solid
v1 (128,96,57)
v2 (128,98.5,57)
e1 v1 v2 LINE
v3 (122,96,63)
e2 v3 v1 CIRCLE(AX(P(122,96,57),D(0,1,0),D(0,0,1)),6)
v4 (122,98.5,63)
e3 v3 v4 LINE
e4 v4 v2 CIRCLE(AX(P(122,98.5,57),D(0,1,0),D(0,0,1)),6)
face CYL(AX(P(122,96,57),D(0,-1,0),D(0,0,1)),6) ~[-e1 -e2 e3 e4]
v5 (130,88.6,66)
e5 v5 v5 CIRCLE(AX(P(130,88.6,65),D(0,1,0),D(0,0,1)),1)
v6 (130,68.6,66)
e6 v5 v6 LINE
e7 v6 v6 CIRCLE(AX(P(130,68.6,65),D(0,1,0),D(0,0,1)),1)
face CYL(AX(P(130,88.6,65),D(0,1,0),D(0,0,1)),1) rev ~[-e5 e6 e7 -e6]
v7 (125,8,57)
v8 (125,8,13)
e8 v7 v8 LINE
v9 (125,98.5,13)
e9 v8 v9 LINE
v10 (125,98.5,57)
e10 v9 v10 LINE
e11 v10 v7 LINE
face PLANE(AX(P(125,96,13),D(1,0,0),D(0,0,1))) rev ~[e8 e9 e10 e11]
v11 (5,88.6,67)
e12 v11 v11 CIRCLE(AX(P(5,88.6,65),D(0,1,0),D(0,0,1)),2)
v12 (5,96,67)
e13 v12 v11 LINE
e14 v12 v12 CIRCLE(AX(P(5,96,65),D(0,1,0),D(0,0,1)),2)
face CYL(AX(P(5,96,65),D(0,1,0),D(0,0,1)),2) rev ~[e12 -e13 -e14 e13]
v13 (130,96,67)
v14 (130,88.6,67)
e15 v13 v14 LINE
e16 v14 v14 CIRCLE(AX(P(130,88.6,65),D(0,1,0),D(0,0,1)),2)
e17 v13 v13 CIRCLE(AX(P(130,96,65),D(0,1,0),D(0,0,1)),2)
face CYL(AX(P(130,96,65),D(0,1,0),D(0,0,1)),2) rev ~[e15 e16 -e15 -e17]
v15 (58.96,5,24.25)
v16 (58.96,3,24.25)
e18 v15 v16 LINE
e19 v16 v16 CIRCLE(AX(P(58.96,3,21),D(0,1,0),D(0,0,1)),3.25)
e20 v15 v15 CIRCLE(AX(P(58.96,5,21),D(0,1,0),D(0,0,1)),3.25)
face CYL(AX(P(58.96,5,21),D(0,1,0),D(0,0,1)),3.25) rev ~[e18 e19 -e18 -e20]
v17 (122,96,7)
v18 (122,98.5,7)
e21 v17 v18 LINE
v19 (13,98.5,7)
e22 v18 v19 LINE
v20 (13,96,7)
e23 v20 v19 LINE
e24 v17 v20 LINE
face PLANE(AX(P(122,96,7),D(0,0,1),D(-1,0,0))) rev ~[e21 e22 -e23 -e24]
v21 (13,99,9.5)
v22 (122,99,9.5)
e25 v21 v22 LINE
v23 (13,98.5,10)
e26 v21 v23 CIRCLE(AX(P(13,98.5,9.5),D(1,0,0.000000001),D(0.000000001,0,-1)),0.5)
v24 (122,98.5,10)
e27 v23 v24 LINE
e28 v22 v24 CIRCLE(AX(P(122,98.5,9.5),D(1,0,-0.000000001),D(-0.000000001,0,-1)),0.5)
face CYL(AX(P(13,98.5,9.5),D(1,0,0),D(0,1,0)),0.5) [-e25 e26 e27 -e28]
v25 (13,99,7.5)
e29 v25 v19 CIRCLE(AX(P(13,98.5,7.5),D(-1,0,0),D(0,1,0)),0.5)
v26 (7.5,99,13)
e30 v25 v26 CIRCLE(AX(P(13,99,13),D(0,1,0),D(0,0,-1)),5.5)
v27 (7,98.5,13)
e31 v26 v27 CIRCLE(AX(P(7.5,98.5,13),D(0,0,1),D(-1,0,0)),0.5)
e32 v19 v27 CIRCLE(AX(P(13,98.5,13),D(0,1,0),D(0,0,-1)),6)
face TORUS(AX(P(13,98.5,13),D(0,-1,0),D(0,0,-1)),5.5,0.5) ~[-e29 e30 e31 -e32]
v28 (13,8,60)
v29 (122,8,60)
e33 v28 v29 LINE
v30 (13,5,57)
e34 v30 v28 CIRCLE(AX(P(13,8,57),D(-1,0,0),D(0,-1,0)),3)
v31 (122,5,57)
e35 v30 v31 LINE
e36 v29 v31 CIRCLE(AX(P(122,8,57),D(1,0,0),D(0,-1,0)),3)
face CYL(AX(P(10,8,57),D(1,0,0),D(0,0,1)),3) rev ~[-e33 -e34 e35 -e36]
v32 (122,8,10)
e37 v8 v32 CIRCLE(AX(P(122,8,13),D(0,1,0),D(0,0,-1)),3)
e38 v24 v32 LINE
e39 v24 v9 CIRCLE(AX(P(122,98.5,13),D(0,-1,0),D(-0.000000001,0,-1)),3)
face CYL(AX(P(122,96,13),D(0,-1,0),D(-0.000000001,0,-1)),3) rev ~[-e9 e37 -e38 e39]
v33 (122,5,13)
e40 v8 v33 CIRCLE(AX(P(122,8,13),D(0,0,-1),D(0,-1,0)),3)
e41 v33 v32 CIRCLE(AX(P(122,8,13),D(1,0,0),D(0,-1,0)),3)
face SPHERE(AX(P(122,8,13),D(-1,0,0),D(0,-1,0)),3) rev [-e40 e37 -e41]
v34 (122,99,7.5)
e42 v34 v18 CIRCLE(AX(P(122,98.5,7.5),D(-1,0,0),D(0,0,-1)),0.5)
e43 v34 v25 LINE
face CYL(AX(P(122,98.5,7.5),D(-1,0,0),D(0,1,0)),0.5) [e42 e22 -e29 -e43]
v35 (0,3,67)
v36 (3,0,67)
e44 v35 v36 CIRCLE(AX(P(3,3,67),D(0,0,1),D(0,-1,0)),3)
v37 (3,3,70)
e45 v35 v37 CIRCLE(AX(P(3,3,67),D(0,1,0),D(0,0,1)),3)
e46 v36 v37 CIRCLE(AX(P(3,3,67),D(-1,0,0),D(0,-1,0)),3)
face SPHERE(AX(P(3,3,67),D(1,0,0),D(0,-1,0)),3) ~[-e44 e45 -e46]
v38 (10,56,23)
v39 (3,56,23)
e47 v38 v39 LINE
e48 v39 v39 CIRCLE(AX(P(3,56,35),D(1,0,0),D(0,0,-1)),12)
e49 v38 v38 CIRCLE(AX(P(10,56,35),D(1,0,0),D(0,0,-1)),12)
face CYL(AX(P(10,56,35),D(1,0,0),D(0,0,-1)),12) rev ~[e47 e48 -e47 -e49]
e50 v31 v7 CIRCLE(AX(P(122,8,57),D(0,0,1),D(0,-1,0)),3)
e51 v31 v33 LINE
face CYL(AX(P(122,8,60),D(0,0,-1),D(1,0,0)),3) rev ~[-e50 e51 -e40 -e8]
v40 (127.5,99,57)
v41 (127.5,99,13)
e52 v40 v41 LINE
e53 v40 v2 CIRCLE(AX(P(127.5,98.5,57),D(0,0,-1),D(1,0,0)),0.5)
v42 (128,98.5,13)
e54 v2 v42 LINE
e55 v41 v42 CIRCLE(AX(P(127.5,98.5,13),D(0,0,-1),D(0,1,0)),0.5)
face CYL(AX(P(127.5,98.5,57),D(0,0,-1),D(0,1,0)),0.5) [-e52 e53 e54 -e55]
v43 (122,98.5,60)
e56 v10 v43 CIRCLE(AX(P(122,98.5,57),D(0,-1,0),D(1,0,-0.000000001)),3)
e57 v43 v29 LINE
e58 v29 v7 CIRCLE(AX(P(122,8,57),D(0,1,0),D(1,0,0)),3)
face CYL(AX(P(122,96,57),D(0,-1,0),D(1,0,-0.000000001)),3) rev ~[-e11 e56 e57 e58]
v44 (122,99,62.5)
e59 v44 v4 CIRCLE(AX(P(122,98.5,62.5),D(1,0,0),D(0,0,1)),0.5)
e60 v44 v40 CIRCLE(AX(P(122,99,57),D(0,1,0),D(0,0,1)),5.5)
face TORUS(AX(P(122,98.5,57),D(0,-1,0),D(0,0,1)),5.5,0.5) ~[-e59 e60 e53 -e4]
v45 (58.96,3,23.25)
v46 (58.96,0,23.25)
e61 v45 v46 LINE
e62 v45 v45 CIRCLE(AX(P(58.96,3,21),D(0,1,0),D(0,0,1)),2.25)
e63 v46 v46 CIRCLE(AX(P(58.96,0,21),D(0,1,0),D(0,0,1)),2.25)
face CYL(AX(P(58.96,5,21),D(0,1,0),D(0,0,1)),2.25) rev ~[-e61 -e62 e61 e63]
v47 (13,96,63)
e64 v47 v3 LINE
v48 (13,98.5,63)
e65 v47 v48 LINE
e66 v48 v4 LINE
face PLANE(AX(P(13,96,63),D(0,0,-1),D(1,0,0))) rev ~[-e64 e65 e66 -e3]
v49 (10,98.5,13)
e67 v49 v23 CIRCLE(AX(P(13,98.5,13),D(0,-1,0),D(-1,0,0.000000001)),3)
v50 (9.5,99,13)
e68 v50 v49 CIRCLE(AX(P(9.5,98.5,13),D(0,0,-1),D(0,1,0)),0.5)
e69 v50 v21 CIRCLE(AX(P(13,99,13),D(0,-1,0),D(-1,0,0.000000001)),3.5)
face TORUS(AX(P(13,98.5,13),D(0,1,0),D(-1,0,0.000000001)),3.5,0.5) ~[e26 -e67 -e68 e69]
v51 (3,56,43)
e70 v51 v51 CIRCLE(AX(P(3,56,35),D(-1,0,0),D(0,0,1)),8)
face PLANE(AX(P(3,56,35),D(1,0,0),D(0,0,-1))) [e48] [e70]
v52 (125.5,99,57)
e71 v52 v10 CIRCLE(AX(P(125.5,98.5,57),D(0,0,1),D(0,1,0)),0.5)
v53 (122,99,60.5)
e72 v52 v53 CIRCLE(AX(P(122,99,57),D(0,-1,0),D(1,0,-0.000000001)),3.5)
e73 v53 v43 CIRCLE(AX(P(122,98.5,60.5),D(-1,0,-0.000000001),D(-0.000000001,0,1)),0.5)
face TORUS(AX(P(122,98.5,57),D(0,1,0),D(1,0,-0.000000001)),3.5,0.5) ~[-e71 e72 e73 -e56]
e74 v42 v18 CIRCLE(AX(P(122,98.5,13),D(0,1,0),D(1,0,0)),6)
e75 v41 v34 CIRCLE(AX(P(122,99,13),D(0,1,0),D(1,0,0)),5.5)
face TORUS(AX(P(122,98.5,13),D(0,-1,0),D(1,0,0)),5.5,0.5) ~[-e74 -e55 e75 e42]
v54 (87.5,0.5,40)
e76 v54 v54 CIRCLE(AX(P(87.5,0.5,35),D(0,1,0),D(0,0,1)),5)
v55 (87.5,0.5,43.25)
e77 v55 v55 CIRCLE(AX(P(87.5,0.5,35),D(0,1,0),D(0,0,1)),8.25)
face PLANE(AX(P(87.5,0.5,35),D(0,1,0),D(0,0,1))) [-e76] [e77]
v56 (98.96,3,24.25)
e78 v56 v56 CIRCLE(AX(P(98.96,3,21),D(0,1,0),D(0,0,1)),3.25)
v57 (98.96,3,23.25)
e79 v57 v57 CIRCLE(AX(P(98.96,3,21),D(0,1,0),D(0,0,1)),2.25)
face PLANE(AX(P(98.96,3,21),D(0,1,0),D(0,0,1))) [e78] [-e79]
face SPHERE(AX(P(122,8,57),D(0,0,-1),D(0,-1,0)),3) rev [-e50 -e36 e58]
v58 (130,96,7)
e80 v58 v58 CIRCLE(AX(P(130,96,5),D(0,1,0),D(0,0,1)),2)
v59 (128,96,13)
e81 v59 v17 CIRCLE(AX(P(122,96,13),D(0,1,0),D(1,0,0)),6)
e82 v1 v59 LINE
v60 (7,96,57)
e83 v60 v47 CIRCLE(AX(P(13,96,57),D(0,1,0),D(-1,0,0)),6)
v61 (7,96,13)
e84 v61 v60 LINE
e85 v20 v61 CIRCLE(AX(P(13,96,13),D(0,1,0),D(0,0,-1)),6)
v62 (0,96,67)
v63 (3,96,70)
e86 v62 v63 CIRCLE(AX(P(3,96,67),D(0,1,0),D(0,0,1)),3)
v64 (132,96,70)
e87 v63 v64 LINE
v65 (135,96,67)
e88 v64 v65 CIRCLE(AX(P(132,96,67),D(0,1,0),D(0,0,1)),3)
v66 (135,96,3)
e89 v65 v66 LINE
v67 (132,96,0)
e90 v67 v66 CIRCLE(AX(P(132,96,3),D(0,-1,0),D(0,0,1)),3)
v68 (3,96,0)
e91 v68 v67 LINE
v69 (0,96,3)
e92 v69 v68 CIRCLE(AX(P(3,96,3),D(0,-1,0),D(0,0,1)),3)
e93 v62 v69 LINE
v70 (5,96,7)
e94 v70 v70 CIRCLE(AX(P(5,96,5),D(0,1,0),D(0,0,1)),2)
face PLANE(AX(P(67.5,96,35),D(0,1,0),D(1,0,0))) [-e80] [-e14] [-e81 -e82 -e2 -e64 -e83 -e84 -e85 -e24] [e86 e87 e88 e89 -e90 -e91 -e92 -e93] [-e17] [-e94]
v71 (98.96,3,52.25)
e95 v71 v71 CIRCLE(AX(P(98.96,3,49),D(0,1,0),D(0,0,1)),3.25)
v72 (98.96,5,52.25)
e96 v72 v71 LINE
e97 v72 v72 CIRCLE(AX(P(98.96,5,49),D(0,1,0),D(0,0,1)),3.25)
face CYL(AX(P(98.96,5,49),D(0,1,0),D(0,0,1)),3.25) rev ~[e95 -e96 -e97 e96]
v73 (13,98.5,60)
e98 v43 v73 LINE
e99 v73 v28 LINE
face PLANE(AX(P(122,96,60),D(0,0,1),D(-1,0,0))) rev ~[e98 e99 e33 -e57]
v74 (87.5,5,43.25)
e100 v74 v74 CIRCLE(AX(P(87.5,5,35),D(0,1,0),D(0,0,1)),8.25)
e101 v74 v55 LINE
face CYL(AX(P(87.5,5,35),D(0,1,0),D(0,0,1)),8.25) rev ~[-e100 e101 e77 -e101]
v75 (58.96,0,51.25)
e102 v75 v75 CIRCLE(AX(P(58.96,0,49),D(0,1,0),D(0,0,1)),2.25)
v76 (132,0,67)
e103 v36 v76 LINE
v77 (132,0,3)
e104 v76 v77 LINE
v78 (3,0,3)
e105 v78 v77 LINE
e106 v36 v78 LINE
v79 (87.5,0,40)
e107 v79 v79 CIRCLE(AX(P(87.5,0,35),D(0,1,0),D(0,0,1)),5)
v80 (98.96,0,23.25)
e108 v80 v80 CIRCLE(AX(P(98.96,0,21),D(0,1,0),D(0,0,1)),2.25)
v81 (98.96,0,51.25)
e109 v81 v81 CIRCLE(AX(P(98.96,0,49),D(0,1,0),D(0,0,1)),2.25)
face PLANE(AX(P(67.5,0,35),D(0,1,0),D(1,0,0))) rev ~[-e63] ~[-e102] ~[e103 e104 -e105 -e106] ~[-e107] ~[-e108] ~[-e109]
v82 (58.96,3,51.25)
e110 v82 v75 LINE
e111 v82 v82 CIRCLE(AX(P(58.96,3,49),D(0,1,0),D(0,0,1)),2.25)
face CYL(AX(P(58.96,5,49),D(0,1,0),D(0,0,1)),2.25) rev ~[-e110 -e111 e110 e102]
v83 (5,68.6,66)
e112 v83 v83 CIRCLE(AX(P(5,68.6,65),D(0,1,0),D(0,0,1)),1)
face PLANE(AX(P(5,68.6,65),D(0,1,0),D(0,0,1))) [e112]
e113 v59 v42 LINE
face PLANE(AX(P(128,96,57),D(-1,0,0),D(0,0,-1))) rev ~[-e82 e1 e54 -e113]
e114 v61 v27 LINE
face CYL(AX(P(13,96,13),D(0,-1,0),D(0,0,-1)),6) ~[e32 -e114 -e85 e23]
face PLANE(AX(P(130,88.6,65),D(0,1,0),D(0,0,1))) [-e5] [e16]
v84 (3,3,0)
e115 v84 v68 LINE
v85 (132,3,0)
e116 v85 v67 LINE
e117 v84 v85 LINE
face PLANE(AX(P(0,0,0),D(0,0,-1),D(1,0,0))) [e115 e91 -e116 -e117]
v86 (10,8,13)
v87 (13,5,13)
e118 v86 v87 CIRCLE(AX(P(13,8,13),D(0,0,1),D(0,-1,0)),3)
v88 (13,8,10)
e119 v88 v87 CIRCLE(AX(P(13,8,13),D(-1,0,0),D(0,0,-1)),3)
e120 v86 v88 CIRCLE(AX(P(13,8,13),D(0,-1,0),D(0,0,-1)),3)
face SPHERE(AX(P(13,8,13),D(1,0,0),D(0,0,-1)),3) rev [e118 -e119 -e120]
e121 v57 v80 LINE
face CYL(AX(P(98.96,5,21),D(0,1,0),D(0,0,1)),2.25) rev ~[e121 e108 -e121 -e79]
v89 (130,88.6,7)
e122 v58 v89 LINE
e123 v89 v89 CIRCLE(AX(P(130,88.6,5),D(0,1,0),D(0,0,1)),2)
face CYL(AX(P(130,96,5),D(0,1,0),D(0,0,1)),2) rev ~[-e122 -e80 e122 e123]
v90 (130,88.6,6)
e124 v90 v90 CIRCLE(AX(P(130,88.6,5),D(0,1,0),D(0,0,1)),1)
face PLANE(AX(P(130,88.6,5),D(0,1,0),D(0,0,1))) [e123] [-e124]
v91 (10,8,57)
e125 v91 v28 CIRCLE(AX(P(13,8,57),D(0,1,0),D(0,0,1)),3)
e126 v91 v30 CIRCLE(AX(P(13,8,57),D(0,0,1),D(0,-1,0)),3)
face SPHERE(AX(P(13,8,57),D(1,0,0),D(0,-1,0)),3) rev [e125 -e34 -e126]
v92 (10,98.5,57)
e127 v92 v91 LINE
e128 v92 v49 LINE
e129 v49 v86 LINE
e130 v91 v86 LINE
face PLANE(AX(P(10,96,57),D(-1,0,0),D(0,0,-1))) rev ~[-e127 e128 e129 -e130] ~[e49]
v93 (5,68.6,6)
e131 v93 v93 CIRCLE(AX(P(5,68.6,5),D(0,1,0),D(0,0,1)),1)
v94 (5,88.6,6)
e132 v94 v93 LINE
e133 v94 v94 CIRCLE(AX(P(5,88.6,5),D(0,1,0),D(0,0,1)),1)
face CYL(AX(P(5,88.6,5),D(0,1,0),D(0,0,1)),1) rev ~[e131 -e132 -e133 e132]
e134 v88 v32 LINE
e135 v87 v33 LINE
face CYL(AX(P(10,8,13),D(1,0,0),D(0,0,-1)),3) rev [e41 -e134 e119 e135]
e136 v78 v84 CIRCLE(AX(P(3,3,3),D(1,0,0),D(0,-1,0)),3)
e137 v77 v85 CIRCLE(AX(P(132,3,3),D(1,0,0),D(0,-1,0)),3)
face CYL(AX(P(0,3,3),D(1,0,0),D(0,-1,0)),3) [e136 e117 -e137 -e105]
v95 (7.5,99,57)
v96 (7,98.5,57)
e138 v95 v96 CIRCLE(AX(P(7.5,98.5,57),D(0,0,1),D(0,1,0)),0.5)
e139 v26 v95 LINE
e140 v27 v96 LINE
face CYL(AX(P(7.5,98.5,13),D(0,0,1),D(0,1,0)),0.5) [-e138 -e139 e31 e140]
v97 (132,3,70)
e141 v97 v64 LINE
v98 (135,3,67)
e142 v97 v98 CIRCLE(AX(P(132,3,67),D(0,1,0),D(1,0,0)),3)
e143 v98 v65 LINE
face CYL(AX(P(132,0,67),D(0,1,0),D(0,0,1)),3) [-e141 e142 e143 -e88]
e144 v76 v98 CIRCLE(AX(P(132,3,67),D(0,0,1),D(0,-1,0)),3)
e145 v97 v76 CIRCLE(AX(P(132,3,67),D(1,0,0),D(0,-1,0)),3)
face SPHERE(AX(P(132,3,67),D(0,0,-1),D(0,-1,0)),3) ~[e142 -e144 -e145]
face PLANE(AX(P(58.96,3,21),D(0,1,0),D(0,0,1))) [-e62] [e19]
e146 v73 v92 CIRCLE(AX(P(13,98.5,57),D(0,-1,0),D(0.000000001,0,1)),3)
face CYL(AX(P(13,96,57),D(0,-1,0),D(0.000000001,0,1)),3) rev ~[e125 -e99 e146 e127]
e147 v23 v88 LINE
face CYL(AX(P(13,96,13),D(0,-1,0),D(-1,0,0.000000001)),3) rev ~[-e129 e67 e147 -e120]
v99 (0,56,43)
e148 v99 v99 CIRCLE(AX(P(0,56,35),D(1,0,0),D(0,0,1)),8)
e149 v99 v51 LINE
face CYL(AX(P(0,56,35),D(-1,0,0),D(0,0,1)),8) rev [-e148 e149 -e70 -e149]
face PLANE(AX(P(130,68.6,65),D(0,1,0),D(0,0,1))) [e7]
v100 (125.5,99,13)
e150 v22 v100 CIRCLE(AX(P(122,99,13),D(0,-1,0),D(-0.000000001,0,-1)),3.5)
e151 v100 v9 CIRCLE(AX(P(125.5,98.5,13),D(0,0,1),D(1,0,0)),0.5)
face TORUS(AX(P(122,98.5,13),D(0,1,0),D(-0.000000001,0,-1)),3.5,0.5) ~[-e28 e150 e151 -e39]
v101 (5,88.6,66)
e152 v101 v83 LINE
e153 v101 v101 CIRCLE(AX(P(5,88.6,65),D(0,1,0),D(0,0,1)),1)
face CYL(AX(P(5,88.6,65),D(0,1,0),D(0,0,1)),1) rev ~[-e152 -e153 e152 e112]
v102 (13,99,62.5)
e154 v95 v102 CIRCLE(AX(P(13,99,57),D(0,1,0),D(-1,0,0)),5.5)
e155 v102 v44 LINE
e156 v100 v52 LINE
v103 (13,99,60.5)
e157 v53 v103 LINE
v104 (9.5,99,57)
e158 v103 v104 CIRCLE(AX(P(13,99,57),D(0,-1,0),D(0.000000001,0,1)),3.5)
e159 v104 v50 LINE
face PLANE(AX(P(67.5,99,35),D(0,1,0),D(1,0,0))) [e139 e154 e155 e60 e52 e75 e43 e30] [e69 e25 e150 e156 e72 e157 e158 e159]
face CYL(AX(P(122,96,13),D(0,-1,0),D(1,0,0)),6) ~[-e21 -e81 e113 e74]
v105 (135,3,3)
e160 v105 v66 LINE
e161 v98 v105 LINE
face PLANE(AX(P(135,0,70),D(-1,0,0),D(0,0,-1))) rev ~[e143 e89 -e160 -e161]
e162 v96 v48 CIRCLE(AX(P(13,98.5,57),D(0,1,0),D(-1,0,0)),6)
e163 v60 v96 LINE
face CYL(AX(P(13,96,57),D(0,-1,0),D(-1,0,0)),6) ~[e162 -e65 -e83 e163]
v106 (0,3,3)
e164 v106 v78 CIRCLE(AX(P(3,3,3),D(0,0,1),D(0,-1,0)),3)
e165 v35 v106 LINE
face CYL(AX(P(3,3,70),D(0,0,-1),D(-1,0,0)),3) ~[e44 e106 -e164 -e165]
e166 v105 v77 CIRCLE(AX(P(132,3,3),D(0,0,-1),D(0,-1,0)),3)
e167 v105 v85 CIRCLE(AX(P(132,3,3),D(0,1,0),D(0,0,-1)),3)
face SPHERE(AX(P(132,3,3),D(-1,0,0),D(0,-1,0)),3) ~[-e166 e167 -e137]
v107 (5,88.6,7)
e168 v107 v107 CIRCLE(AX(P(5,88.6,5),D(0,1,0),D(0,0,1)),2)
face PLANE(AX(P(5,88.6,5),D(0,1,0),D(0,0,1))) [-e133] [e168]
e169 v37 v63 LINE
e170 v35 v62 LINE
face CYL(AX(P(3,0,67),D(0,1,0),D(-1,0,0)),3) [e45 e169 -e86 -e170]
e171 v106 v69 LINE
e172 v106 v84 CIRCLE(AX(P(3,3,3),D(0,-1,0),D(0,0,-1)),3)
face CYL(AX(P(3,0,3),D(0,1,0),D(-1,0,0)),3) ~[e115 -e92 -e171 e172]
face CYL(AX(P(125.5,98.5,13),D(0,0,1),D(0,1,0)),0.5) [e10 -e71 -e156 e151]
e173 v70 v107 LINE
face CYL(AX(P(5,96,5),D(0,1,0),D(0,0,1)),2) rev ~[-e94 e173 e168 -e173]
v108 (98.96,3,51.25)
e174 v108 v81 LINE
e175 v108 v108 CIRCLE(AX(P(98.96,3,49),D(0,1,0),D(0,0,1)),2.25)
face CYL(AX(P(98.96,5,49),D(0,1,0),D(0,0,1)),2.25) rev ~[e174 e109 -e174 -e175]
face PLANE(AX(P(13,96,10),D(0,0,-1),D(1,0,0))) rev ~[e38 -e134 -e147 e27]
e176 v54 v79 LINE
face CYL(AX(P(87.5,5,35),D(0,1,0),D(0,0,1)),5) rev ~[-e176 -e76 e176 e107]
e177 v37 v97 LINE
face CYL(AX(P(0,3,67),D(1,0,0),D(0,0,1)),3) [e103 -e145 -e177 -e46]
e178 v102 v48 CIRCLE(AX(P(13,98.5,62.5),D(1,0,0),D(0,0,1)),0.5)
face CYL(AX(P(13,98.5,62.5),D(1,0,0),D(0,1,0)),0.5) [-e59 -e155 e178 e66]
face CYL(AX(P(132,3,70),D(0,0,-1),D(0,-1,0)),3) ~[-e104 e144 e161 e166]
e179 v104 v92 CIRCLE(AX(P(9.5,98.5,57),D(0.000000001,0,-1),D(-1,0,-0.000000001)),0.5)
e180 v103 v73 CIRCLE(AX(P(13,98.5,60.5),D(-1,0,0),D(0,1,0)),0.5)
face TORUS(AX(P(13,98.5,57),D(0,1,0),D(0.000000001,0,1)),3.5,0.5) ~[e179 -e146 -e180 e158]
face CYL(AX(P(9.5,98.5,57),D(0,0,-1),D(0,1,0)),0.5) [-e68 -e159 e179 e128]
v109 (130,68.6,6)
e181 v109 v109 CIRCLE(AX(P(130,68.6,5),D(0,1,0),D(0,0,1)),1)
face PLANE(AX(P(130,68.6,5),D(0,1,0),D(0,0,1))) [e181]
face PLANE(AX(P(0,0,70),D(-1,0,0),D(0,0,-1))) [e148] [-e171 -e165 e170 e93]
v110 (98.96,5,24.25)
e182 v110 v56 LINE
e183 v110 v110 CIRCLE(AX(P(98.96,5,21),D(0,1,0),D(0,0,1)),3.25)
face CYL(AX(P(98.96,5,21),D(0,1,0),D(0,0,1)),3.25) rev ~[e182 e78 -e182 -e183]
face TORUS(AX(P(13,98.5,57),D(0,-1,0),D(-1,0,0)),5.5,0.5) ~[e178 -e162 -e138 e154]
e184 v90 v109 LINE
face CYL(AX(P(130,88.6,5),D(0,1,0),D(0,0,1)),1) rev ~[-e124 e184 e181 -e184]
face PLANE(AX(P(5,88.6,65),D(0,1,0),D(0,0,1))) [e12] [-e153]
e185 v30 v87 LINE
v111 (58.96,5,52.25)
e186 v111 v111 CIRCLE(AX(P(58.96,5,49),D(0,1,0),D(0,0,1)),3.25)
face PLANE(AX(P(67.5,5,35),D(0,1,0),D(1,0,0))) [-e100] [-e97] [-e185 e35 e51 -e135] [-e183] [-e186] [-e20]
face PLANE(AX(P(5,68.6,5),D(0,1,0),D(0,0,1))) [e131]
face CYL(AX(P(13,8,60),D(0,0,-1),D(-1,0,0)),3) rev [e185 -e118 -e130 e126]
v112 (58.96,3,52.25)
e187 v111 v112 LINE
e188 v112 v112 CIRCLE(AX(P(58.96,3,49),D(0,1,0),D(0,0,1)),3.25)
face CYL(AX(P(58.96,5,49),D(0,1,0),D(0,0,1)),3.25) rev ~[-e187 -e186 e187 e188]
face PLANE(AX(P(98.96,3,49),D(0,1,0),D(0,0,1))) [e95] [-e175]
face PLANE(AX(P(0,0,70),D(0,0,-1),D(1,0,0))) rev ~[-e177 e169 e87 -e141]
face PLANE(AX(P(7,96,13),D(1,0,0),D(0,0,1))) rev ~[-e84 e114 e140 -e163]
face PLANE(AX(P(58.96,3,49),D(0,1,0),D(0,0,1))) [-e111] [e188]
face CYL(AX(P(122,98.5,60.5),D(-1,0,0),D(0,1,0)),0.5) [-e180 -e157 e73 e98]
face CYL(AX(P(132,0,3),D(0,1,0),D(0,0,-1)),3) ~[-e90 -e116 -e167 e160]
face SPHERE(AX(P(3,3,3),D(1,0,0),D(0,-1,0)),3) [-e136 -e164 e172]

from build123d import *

# Parameters (mm, degrees)
SKETCH1_W           = 135
SKETCH1_H           = 70
BOSS_EXTRUDE1_DEPTH = 96
SKETCH10_W          = 115
SKETCH10_H          = 50
CUT_EXTRUDE7_DEPTH  = 91
SKETCH2_R           = 2.25
CUT_EXTRUDE1_DEPTH  = 178.217380637
SKETCH3_R           = 5
CUT_EXTRUDE2_DEPTH  = 178.217380637
SKETCH6_R           = 2
CUT_EXTRUDE5_DEPTH  = 7.4
CUT_EXTRUDE9_REACH  = 188.188
SKETCH17_R          = 8
SKETCH19_R          = 1
CUT_EXTRUDE12_DEPTH = 20
SKETCH23_R          = 12
CUT_EXTRUDE13_DEPTH = 7
SKETCH7_R           = 8.25
SKETCH7_R_2         = 5
CUT_EXTRUDE14_DEPTH = 4.5
SKETCH24_R          = 3.25
CUT_EXTRUDE15_DEPTH = 2
FILLET1_R           = 3
BOSS_EXTRUDE2_DEPTH = 3
FILLET2_R           = 0.5


with BuildPart() as part:
    # Sketch1 → Boss-Extrude1 (new body)
    with BuildSketch(Plane(origin=(0, 0, 0), x_dir=(1, 0, 0), z_dir=(0, 1, 0))):
        with Locations((67.5, -35)):
            Rectangle(SKETCH1_W, SKETCH1_H)
    extrude(amount=BOSS_EXTRUDE1_DEPTH)

    # Sketch10 → Cut-Extrude7 (cut)
    with BuildSketch(Plane(origin=(0, 96, 0), x_dir=(1, 0, 0), z_dir=(0, 1, 0))):
        with Locations((67.5, -35)):
            Rectangle(SKETCH10_W, SKETCH10_H)
    extrude(amount=-CUT_EXTRUDE7_DEPTH, mode=Mode.SUBTRACT)

    # Sketch2 → Cut-Extrude1 (cut, through all)
    with BuildSketch(Plane(origin=(0, 5, 0), x_dir=(1, 0, 0), z_dir=(0, 1, 0))):
        with Locations(Location((58.96, -21, 0), (0, 0, 270))):
            Circle(SKETCH2_R)
        with Locations(Location((98.96, -21, 0), (0, 0, 270))):
            Circle(SKETCH2_R)
        with Locations(Location((58.96, -49, 0), (0, 0, 270))):
            Circle(SKETCH2_R)
        with Locations(Location((98.96, -49, 0), (0, 0, 270))):
            Circle(SKETCH2_R)
    extrude(amount=-CUT_EXTRUDE1_DEPTH, mode=Mode.SUBTRACT)

    # Sketch3 → Cut-Extrude2 (cut, through all)
    with BuildSketch(Plane(origin=(0, 5, 0), x_dir=(1, 0, 0), z_dir=(0, 1, 0))):
        with Locations(Location((87.5, -35, 0), (0, 0, 270))):
            Circle(SKETCH3_R)
    extrude(amount=-CUT_EXTRUDE2_DEPTH, mode=Mode.SUBTRACT)

    # Sketch6 → Cut-Extrude5 (cut)
    with BuildSketch(Plane(origin=(0, 96, 0), x_dir=(1, 0, 0), z_dir=(0, 1, 0))):
        with Locations(Location((130, -65, 0), (0, 0, 270))):
            Circle(SKETCH6_R)
        with Locations(Location((5, -65, 0), (0, 0, 270))):
            Circle(SKETCH6_R)
        with Locations(Location((5, -5, 0), (0, 0, 270))):
            Circle(SKETCH6_R)
        with Locations(Location((130, -5, 0), (0, 0, 270))):
            Circle(SKETCH6_R)
    extrude(amount=-CUT_EXTRUDE5_DEPTH, mode=Mode.SUBTRACT)

    # Sketch17 → Cut-Extrude9 (cut, up to next)
    with BuildSketch(Plane(origin=(0, 0, 85), x_dir=(0, 0, -1), z_dir=(1, 0, 0)), mode=Mode.PRIVATE) as cut_extrude9_sk1:
        with Locations(Location((50, 56, 0), (0, 0, 180))):
            Circle(SKETCH17_R)
    cut_extrude9_tool1 = extrude(cut_extrude9_sk1.sketch, amount=CUT_EXTRUDE9_REACH, mode=Mode.PRIVATE) & part.part
    add(cut_extrude9_tool1.solids().sort_by_distance((0, 56, 35))[0], mode=Mode.SUBTRACT)

    # Sketch19 → Cut-Extrude12 (cut)
    with BuildSketch(Plane(origin=(0, 88.6, 0), x_dir=(1, 0, 0), z_dir=(0, 1, 0))):
        with Locations(Location((5, -5, 0), (0, 0, 270))):
            Circle(SKETCH19_R)
        with Locations(Location((130, -5, 0), (0, 0, 270))):
            Circle(SKETCH19_R)
        with Locations(Location((130, -65, 0), (0, 0, 270))):
            Circle(SKETCH19_R)
        with Locations(Location((5, -65, 0), (0, 0, 270))):
            Circle(SKETCH19_R)
    extrude(amount=-CUT_EXTRUDE12_DEPTH, mode=Mode.SUBTRACT)

    # Sketch23 → Cut-Extrude13 (cut)
    with BuildSketch(Plane(origin=(10, 0, 0), x_dir=(0, 0, -1), z_dir=(1, 0, 0))):
        with Locations((-35, 56)):
            Circle(SKETCH23_R)
    extrude(amount=-CUT_EXTRUDE13_DEPTH, mode=Mode.SUBTRACT)

    # Sketch7 → Cut-Extrude14 (cut)
    with BuildSketch(Plane(origin=(0, 5, 0), x_dir=(1, 0, 0), z_dir=(0, 1, 0))):
        with Locations(Location((87.5, -35, 0), (0, 0, 270))):
            Circle(SKETCH7_R)
        with Locations(Location((87.5, -35, 0), (0, 0, 270))):
            Circle(SKETCH7_R_2, mode=Mode.SUBTRACT)
    extrude(amount=-CUT_EXTRUDE14_DEPTH, mode=Mode.SUBTRACT)

    # Sketch24 → Cut-Extrude15 (cut)
    with BuildSketch(Plane(origin=(0, 5, 0), x_dir=(1, 0, 0), z_dir=(0, 1, 0))):
        with Locations(Location((58.96, -21, 0), (0, 0, 270))):
            Circle(SKETCH24_R)
        with Locations(Location((98.96, -21, 0), (0, 0, 270))):
            Circle(SKETCH24_R)
        with Locations(Location((58.96, -49, 0), (0, 0, 270))):
            Circle(SKETCH24_R)
        with Locations(Location((98.96, -49, 0), (0, 0, 270))):
            Circle(SKETCH24_R)
    extrude(amount=-CUT_EXTRUDE15_DEPTH, mode=Mode.SUBTRACT)

    # Fillet1
    fillet1_edges = [part.edges().sort_by_distance(p)[0] for p in [
        (67.5, 5, 10),
        (10, 50.5, 10),
        (125, 5, 35),
        (125, 50.5, 10),
        (67.5, 5, 60),
        (125, 50.5, 60),
        (10, 5, 35),
        (10, 50.5, 60),
        (67.5, 0, 0),
        (135, 0, 35),
        (67.5, 0, 70),
        (0, 0, 35),
        (0, 48, 0),
        (135, 48, 0),
        (135, 48, 70),
        (0, 48, 70),
    ]]
    fillet(fillet1_edges, radius=FILLET1_R)

    # Sketch25 → Boss-Extrude2 (add)
    with BuildSketch(Plane(origin=(0, 96, 0), x_dir=(1, 0, 0), z_dir=(0, 1, 0))):
        with BuildLine():
            Line((128, -57), (128, -13))
            ThreePointArc((128, -13), (126.242640687, -8.757359313), (122, -7))
            Line((122, -7), (13, -7))
            ThreePointArc((13, -7), (8.757359313, -8.757359313), (7, -13))
            Line((7, -13), (7, -57))
            ThreePointArc((7, -57), (8.757359313, -61.242640687), (13, -63))
            Line((13, -63), (122, -63))
            ThreePointArc((122, -63), (126.242640687, -61.242640687), (128, -57))
        make_face()
        with BuildLine():
            Line((125, -13), (125, -57))
            ThreePointArc((125, -57), (124.121320344, -59.121320344), (122, -60))
            Line((122, -60), (13, -60))
            ThreePointArc((13, -60), (10.878679656, -59.121320344), (10, -57))
            Line((10, -57), (10, -13))
            ThreePointArc((10, -13), (10.878679656, -10.878679656), (13, -10))
            Line((13, -10), (122, -10))
            ThreePointArc((122, -10), (124.121320344, -10.878679656), (125, -13))
        make_face(mode=Mode.SUBTRACT)
    extrude(amount=BOSS_EXTRUDE2_DEPTH)

    # Fillet2
    fillet2_edges = [part.edges().sort_by_distance(p)[0] for p in [
        (126.242640687, 99, 61.242640687),
        (128, 99, 35),
        (126.242640687, 99, 8.757359313),
        (67.5, 99, 7),
        (8.757359313, 99, 8.757359313),
        (7, 99, 35),
        (8.757359313, 99, 61.242640687),
        (67.5, 99, 63),
        (124.121320344, 99, 10.878679656),
        (67.5, 99, 10),
        (10.878679656, 99, 10.878679656),
        (10, 99, 35),
        (10.878679656, 99, 59.121320344),
        (67.5, 99, 60),
        (124.121320344, 99, 59.121320344),
        (125, 99, 35),
    ]]
    fillet(fillet2_edges, radius=FILLET2_R)


solid = part.part
